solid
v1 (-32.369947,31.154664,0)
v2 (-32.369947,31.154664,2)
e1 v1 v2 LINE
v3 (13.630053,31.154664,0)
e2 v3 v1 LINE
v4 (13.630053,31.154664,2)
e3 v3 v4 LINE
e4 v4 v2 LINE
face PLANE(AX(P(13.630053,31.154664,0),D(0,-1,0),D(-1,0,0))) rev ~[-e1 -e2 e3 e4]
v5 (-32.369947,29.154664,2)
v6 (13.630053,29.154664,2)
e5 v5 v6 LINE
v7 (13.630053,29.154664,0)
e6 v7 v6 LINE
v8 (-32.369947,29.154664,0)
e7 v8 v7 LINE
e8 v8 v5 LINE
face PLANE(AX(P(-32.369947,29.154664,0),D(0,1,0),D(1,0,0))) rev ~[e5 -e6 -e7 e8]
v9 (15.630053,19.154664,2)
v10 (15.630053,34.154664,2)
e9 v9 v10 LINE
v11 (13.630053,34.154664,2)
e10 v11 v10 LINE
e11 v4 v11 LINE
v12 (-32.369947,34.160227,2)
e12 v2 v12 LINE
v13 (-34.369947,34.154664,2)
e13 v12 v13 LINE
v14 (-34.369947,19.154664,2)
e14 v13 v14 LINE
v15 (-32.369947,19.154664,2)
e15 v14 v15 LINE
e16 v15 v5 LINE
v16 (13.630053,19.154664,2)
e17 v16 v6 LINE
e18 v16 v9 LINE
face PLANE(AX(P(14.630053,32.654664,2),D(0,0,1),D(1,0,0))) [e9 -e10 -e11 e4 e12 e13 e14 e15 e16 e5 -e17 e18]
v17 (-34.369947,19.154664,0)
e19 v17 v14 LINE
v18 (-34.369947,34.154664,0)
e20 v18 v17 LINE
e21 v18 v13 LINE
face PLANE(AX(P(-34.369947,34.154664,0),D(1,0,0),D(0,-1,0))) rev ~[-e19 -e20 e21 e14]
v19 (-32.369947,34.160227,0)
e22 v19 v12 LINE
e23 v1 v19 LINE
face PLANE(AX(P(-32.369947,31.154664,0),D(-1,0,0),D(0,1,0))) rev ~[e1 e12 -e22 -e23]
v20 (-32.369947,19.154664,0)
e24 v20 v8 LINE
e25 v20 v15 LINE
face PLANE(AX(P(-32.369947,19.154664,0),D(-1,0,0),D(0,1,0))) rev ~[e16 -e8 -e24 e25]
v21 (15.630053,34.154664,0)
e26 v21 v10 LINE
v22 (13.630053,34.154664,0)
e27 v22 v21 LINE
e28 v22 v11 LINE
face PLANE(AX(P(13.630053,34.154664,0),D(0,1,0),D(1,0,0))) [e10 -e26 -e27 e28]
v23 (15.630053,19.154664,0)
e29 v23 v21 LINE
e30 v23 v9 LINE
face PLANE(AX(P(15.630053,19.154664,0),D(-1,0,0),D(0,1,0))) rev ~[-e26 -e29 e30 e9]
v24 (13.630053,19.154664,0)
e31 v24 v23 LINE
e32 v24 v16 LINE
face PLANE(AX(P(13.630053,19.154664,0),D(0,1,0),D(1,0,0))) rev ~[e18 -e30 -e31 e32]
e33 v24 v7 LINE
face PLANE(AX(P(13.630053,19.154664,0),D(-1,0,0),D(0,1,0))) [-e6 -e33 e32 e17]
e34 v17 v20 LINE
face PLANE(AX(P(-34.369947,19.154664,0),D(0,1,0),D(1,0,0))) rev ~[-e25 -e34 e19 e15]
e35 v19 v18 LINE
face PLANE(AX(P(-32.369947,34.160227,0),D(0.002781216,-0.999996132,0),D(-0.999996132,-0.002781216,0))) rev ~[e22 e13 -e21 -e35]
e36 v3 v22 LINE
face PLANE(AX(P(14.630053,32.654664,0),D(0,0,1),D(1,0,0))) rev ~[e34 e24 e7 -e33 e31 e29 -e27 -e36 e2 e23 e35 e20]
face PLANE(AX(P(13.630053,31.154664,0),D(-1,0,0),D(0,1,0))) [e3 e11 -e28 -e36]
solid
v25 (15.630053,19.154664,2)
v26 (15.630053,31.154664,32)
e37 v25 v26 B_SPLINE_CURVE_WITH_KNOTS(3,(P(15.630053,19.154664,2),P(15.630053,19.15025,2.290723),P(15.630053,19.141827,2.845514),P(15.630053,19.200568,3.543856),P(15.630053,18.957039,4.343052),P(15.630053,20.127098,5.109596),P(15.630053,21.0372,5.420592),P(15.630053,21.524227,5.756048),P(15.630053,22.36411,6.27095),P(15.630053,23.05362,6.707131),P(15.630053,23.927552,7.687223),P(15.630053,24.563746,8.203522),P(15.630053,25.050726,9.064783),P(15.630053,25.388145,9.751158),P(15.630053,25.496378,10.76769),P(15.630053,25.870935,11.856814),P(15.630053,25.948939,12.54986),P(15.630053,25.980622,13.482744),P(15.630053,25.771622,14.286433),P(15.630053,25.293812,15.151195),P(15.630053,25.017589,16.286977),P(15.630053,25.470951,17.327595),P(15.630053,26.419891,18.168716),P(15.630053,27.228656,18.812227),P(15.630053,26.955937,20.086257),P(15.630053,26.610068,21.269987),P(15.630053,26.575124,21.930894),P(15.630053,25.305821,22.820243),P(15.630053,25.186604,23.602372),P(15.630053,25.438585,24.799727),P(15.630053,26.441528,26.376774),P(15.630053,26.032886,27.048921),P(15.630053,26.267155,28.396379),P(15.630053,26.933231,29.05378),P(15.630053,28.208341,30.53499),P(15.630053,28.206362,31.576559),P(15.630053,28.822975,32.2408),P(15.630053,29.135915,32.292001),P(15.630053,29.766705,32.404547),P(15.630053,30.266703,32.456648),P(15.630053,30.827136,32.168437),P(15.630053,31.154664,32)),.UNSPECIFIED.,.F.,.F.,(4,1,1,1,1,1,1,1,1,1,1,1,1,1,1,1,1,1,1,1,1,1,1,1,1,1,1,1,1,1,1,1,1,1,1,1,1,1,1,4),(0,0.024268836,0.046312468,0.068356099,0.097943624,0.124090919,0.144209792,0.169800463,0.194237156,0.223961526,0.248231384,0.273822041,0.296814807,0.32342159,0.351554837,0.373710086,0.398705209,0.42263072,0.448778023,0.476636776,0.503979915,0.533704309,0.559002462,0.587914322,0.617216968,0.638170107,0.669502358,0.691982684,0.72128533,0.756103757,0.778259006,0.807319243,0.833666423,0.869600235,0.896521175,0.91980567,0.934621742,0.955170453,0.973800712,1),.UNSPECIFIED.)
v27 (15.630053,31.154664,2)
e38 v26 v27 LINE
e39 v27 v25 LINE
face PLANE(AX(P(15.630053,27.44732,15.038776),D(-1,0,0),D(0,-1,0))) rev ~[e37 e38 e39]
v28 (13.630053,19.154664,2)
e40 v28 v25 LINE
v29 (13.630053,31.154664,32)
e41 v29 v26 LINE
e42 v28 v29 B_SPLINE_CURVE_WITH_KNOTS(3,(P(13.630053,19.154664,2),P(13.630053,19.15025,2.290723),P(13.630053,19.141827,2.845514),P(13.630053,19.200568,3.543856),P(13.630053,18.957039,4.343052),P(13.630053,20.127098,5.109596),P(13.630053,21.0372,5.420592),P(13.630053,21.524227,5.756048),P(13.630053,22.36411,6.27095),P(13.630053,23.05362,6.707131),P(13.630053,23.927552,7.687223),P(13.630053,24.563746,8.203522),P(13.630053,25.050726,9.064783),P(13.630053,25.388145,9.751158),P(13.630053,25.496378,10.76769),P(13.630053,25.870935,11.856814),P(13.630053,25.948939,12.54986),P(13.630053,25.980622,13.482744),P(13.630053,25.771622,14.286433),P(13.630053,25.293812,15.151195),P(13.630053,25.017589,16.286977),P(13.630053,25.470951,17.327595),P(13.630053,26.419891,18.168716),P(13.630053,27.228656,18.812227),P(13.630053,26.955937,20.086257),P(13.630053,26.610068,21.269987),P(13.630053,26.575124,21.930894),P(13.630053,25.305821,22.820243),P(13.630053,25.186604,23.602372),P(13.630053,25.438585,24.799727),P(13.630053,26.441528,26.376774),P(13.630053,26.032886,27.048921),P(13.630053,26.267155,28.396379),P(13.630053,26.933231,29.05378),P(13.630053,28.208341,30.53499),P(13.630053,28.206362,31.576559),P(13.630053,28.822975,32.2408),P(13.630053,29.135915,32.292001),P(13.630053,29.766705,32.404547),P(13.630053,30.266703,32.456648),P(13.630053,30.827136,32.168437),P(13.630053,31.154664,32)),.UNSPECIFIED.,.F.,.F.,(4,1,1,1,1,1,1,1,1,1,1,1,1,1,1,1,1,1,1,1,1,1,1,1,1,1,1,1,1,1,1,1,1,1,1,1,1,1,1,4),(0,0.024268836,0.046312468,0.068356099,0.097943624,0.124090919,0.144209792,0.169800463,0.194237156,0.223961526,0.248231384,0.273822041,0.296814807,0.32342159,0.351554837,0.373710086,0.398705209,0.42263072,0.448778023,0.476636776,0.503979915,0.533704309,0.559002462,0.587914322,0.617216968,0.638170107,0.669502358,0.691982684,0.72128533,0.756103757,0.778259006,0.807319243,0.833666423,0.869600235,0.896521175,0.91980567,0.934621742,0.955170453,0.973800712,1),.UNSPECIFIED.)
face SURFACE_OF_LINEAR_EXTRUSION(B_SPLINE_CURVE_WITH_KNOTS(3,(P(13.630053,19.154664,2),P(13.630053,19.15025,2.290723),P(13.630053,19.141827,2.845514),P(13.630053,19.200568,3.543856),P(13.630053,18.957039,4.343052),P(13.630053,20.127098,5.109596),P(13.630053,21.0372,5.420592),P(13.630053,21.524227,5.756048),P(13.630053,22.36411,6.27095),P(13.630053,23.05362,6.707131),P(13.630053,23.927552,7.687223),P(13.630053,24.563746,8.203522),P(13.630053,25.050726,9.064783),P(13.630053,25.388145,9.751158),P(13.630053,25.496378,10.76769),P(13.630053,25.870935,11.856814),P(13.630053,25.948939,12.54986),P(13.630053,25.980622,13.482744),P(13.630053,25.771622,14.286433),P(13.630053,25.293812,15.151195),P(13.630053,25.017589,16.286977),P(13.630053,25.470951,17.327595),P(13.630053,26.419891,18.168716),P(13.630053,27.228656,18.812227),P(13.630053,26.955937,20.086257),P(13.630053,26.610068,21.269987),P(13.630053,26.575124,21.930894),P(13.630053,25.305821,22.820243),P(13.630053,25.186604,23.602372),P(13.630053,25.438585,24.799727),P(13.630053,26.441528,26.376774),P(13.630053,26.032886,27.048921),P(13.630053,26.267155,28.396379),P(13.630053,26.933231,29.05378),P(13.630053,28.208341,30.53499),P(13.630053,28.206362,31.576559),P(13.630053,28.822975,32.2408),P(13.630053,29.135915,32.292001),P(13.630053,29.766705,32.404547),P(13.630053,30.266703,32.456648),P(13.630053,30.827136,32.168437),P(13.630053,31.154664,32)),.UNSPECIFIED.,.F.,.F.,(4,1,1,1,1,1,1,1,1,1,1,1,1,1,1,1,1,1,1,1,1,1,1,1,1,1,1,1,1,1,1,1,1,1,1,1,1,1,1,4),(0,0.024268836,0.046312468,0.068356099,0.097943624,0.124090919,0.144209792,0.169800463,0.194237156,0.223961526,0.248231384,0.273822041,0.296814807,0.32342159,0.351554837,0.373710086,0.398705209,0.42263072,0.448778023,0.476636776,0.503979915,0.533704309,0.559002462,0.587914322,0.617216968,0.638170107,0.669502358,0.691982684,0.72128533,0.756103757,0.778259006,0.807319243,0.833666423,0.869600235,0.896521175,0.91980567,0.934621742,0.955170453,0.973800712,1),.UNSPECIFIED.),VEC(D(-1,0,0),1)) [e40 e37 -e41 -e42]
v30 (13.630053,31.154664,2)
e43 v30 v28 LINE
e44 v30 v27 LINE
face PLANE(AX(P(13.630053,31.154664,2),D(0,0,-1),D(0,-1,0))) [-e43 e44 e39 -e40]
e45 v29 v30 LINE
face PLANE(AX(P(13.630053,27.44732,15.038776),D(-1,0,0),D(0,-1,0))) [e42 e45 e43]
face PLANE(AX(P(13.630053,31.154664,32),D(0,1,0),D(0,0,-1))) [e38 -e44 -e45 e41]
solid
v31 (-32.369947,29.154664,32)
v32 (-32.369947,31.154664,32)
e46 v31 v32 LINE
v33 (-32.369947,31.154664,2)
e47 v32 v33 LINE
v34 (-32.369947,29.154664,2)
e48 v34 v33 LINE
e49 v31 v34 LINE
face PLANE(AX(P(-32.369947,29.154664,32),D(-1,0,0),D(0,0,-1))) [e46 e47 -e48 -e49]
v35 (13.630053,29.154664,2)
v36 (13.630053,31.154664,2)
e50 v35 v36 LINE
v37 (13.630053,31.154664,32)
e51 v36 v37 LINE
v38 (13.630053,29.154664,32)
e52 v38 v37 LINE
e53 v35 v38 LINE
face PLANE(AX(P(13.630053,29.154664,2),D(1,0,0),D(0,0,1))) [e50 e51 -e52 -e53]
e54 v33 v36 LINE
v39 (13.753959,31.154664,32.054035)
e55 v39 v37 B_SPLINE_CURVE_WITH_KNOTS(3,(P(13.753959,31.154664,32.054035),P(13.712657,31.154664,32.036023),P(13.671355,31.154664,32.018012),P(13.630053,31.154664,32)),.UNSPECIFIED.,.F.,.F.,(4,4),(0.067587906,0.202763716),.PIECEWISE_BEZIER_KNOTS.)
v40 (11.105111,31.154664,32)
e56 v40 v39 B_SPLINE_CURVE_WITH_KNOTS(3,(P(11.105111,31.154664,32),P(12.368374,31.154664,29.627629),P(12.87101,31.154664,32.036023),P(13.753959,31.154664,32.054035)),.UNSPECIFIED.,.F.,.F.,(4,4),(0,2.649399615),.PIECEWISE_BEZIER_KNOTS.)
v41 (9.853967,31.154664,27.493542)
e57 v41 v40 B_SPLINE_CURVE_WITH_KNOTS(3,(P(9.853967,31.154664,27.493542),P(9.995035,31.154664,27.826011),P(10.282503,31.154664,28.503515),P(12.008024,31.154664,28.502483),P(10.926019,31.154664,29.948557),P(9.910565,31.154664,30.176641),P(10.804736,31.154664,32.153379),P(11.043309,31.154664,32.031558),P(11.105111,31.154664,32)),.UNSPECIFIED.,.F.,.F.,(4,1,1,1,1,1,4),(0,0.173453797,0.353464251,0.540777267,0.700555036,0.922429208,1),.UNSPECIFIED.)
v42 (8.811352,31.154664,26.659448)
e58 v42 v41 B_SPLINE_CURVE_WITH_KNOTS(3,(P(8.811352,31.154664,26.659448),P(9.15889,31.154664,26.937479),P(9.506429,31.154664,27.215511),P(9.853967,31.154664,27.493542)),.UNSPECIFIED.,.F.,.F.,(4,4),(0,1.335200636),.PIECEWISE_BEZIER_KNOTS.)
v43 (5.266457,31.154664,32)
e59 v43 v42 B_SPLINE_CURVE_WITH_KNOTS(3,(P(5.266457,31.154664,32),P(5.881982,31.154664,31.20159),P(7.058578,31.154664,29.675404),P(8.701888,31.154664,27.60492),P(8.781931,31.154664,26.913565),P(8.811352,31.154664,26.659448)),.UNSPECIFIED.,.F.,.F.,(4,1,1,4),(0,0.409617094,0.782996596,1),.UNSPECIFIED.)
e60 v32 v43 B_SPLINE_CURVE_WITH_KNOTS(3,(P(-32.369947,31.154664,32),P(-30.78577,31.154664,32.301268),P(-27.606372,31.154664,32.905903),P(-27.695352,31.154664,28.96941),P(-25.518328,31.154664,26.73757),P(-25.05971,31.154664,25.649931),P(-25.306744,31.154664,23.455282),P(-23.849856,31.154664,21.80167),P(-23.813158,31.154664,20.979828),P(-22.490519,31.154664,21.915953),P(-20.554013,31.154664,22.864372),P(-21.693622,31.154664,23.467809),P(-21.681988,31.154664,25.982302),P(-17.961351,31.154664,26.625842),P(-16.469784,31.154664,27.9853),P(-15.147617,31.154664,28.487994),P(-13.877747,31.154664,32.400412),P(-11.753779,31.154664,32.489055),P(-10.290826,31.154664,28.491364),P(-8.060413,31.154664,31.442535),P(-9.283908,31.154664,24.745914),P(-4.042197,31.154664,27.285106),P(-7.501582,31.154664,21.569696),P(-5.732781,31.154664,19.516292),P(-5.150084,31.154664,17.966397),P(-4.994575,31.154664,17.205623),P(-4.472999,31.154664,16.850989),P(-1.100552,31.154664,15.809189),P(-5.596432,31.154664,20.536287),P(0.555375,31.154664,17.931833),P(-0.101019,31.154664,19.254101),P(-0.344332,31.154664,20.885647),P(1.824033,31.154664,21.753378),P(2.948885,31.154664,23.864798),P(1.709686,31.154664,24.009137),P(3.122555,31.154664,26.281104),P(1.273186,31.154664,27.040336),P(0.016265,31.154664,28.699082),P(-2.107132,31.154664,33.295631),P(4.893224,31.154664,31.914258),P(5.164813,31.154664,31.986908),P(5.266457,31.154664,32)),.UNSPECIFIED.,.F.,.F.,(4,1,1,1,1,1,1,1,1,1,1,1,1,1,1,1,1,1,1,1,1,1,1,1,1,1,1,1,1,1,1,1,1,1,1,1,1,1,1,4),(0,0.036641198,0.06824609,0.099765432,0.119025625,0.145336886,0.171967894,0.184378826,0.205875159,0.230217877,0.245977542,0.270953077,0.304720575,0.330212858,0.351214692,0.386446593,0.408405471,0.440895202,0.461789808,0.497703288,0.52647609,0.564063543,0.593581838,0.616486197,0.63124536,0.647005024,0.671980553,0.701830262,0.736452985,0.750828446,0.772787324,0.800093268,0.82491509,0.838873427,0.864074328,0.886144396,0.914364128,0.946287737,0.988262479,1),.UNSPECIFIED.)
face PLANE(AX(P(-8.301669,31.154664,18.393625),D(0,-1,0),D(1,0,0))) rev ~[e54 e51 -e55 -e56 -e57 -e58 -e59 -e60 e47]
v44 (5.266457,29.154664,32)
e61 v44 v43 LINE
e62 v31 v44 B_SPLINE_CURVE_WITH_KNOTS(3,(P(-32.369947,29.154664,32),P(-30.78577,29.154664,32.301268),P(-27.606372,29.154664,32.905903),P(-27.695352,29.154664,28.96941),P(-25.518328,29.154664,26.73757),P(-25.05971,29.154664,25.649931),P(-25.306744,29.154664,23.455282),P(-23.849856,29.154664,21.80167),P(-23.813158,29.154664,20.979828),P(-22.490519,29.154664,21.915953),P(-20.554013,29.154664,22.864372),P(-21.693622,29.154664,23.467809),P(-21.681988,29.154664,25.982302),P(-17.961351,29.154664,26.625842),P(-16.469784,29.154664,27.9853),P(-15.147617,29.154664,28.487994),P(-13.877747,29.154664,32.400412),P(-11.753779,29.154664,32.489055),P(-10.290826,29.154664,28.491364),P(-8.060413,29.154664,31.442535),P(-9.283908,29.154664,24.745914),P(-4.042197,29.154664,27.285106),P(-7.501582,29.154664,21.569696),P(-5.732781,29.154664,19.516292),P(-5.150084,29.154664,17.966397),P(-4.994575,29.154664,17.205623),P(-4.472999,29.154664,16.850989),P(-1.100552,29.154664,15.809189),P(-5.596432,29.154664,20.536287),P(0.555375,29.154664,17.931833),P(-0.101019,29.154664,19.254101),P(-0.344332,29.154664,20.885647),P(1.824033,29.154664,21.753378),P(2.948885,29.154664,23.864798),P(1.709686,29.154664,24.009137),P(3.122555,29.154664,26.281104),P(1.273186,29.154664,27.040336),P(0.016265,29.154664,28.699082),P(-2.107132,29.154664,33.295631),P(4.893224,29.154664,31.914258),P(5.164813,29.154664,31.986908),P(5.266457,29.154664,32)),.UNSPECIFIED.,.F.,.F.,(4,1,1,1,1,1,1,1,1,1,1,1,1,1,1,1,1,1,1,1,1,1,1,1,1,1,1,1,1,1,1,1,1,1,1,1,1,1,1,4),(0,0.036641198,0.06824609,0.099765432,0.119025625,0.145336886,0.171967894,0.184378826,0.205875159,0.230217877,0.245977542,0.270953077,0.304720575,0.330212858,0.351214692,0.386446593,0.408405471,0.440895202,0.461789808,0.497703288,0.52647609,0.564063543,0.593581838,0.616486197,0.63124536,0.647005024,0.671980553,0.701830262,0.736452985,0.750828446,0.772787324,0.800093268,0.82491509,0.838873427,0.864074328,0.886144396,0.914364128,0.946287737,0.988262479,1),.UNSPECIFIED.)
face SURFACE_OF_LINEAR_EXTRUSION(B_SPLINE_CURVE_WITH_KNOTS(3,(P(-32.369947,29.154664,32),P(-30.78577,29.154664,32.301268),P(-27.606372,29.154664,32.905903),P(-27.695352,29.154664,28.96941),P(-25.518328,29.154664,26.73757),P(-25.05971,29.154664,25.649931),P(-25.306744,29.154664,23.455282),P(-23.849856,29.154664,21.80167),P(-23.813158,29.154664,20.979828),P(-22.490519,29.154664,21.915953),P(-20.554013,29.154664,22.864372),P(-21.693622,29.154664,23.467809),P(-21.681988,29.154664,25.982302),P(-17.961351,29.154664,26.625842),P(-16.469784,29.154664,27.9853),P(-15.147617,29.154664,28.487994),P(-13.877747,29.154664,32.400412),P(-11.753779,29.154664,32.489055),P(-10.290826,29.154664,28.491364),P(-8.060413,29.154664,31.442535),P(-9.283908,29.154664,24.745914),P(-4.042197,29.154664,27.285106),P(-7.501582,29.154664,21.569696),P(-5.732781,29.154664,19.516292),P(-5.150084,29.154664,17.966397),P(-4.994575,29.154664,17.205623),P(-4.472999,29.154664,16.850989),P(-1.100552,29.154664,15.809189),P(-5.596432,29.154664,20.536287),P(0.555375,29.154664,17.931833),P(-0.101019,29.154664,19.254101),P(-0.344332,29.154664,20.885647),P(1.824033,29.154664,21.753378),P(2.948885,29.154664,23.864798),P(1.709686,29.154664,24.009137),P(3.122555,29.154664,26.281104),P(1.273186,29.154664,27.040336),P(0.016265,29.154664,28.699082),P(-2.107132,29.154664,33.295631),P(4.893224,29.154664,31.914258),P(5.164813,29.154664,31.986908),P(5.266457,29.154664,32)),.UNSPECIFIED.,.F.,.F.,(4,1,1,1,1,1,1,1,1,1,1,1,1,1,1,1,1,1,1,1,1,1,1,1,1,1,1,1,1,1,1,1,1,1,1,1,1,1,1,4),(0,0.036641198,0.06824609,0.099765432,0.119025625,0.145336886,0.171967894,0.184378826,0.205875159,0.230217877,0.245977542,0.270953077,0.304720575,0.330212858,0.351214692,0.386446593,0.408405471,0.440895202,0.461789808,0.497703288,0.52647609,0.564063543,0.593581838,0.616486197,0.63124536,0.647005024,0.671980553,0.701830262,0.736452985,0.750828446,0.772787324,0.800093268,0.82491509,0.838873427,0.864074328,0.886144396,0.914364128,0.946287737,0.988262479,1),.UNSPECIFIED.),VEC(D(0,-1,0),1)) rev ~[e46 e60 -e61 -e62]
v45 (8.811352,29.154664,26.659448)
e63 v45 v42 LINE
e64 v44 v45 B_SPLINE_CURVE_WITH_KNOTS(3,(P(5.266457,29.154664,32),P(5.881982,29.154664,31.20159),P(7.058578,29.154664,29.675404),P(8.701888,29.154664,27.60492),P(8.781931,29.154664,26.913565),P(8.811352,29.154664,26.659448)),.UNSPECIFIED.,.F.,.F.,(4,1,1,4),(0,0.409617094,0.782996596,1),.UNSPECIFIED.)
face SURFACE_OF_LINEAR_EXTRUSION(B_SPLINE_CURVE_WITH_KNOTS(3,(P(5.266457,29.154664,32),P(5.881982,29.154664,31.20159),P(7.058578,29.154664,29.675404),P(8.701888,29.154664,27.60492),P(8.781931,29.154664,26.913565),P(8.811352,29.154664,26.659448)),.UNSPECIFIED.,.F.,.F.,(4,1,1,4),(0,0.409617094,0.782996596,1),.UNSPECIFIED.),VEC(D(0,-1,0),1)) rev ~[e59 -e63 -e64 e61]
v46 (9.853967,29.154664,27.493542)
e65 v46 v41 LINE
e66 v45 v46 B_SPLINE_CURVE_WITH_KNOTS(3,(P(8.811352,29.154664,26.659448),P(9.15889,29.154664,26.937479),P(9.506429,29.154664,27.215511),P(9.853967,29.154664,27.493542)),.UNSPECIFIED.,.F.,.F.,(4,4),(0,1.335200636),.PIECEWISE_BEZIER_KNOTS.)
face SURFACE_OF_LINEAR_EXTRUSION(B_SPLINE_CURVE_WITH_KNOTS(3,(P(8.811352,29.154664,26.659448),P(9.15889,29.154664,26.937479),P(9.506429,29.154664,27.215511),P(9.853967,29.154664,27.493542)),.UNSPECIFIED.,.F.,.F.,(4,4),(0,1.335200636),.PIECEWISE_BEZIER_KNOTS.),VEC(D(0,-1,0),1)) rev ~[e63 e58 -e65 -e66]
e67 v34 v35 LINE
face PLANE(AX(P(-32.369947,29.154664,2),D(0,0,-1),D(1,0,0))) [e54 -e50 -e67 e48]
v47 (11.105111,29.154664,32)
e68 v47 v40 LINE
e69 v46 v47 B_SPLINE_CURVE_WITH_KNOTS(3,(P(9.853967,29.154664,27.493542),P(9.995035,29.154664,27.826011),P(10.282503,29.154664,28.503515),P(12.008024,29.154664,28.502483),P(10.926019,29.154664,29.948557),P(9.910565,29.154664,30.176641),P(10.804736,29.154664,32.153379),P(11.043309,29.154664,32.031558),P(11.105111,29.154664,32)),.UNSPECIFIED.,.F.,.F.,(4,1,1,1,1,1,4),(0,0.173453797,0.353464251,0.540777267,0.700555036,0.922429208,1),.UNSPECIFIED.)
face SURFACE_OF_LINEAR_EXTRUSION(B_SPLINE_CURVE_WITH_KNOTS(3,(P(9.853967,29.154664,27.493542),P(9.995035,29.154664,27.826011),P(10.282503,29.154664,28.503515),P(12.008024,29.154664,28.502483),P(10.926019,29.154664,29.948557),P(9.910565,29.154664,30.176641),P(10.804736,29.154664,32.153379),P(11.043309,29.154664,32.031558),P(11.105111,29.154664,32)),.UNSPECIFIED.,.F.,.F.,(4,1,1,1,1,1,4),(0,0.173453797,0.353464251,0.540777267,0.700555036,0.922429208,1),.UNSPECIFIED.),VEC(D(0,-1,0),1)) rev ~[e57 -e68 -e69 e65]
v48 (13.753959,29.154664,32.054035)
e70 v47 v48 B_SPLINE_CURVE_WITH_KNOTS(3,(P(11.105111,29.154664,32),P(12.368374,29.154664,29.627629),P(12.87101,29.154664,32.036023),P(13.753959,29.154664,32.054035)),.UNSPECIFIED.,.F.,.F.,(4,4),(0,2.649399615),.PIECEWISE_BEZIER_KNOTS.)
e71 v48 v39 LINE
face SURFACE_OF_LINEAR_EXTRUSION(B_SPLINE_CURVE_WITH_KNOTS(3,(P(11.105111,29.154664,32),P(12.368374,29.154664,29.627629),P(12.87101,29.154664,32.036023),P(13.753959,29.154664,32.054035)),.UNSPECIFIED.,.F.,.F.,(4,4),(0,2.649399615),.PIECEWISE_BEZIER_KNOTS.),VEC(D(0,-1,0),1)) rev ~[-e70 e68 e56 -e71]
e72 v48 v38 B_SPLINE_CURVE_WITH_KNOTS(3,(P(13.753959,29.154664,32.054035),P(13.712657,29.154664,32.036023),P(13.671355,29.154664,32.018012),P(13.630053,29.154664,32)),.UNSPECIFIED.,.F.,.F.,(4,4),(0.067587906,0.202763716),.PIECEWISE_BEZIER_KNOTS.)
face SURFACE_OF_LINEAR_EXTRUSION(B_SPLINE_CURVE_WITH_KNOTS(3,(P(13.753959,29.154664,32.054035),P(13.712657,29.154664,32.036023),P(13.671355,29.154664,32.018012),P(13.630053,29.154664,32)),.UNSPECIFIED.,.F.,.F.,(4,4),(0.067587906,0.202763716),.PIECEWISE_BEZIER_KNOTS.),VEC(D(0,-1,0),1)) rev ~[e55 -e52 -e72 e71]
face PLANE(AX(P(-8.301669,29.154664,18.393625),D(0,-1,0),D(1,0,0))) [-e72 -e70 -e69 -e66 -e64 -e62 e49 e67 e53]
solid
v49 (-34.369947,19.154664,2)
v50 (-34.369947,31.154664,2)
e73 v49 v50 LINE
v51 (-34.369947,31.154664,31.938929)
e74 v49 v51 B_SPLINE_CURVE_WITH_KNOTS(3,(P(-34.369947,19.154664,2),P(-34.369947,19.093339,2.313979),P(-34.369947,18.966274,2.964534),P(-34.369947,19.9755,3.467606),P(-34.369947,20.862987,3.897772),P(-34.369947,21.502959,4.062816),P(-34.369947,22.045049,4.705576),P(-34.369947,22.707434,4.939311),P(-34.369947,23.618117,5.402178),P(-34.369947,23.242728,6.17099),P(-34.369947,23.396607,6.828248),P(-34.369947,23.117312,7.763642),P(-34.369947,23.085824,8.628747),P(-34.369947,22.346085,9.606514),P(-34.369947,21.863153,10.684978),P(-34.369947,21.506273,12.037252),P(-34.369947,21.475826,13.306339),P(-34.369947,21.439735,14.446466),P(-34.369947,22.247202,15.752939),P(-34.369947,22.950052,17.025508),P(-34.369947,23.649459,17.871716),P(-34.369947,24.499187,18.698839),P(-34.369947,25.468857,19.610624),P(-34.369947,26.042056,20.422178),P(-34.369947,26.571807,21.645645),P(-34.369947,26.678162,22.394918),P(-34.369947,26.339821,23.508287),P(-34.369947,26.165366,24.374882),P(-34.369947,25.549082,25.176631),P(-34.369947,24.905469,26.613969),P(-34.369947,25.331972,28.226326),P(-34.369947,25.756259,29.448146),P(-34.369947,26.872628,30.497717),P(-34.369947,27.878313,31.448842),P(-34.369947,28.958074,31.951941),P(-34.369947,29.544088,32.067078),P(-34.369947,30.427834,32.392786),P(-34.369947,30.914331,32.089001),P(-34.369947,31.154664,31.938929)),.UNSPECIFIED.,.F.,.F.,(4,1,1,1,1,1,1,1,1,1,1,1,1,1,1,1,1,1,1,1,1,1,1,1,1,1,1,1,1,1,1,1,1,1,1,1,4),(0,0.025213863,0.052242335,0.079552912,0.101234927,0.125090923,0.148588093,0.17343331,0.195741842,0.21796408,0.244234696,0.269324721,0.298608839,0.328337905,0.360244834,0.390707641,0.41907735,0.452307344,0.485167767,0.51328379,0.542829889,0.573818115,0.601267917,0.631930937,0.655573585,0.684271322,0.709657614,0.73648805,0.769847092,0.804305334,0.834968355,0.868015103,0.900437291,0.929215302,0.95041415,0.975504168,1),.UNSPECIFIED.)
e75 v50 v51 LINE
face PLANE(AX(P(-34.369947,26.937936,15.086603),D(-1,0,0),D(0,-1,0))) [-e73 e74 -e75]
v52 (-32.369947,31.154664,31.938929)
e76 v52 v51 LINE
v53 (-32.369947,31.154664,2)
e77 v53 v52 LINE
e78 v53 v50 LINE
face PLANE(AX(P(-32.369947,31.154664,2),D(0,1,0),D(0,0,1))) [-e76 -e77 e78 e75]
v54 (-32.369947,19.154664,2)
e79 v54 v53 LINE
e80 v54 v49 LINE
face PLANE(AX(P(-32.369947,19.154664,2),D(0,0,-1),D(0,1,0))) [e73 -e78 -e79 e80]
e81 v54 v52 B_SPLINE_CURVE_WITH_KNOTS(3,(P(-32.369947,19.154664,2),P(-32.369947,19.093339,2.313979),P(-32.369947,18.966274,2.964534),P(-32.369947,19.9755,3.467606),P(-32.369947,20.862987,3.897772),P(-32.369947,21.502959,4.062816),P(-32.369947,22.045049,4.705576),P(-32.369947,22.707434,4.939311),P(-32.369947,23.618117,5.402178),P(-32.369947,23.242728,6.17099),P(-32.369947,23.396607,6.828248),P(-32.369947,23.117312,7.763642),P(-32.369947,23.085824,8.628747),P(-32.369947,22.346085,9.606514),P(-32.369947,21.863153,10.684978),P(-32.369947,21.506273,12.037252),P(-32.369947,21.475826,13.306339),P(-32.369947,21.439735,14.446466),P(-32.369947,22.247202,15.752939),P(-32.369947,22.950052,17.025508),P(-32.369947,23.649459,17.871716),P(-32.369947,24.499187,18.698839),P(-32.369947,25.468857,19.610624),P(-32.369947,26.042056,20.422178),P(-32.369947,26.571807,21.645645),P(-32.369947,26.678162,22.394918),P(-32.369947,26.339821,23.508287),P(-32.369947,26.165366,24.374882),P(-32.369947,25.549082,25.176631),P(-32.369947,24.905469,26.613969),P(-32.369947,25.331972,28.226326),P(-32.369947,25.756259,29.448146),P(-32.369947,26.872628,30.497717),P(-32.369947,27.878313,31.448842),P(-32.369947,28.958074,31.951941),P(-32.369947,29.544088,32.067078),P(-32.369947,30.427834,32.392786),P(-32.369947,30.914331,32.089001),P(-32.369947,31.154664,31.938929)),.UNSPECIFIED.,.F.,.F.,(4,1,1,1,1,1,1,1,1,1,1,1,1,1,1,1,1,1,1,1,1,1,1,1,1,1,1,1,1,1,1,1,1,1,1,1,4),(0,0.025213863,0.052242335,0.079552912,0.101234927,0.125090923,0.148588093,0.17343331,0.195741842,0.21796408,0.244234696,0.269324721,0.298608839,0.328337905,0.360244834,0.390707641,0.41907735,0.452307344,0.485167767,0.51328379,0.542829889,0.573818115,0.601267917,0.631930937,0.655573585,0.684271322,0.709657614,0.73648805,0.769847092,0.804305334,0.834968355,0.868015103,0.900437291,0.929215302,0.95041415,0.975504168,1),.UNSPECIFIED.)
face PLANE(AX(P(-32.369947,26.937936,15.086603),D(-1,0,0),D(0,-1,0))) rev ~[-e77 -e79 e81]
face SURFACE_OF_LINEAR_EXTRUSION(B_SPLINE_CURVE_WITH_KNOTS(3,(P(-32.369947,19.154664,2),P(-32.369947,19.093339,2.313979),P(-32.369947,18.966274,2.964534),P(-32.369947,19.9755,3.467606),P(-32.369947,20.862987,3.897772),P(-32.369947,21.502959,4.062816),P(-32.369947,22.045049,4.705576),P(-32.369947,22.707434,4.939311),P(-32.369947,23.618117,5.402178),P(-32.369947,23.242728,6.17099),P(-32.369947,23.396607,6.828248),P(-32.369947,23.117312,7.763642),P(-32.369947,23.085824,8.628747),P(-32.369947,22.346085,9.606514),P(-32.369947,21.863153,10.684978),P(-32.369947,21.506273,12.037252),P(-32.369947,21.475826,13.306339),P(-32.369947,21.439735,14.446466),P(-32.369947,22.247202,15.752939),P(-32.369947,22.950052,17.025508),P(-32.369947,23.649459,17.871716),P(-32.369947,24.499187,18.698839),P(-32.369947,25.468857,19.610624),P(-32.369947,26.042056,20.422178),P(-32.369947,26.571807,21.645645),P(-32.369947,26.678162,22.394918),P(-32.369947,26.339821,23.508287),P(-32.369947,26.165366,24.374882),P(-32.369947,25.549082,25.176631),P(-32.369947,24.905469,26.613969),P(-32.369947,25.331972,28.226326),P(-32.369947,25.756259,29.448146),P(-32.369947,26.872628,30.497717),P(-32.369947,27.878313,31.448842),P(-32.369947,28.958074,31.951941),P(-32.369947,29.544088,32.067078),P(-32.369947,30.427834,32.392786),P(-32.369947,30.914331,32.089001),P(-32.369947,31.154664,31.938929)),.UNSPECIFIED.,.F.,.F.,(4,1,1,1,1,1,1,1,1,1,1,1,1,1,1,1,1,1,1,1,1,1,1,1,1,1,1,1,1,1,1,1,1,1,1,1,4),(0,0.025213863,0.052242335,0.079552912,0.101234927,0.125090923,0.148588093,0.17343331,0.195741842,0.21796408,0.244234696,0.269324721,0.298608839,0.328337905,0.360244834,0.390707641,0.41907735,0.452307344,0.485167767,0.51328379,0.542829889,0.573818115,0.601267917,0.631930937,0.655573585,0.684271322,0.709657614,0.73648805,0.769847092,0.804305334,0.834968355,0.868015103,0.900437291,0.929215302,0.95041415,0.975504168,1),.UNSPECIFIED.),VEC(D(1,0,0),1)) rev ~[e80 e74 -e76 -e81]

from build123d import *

# Parameters (mm, degrees)
F0_W     = 2
F0_H     = 3
F0_W_2   = 46
F0_H_2   = 2
F0_H_3   = 10
F1_DEPTH = 2
F3_DEPTH = 2
F5_DEPTH = 2
F7_DEPTH = 2


with BuildPart() as f1:
    # F0 (on Top) → F1 (new body)
    with BuildSketch(Plane.XY):
        with Locations((14.6300533563, 32.654664129)):
            Rectangle(F0_W, F0_H)
        with Locations((-9.3699466437, 30.154664129)):
            Rectangle(F0_W_2, F0_H_2)
        with Locations((14.6300533563, 30.154664129)):
            Rectangle(F0_W, F0_H_2)
        with Locations((-33.3699466437, 30.154664129)):
            Rectangle(F0_W, F0_H_2)
        Polygon((-34.3699466437, 31.154664129), (-32.3699466437, 31.154664129), (-32.3699466437, 31.1602265835), (-32.3699466437, 34.1602265835), (-34.3699466437, 34.154664129), align=None)
        with Locations((14.6300533563, 24.154664129)):
            Rectangle(F0_W, F0_H_3)
        with Locations((-33.3699466437, 24.154664129)):
            Rectangle(F0_W, F0_H_3)
    extrude(amount=F1_DEPTH)


with BuildPart() as f3:
    # F2 (on face) → F3 (new body)
    with BuildSketch(Plane.XZ.offset(-29.154664129)):
        with BuildLine():
            Line((-32.3699466437, 32), (-32.3699466437, 2))
            Line((-32.3699466437, 2), (13.6300533563, 2))
            Line((13.6300533563, 2), (13.6300533563, 32))
            add(Edge.make_bspline(
                [(13.7539593975, 32.0540351073), (13.7126573837, 32.0360234049), (13.67135537, 32.0180117024), (13.6300533563, 32)],
                knots=[0.0675879055, 0.0675879055, 0.0675879055, 0.0675879055, 0.2027637164, 0.2027637164, 0.2027637164, 0.2027637164], degree=3))
            add(Edge.make_bspline(
                [(11.1051108688, 32), (12.3683735728, 29.6276286244), (12.8710098879, 32.0360234049), (13.7539593975, 32.0540351073)],
                knots=[0, 0, 0, 0, 2.6493996151, 2.6493996151, 2.6493996151, 2.6493996151], degree=3))
            add(Edge.make_bspline(
                [(9.8539674655, 27.4935420603), (9.9950352133, 27.8260106211), (10.2825031537, 28.5035152523), (12.0080236168, 28.5024828432), (10.9260187917, 29.9485572376), (9.9105646742, 30.1766407122), (10.8047361852, 32.1533787201), (11.0433089366, 32.0315575905), (11.1051108688, 32)],
                knots=[0, 0, 0, 0, 0.173453797, 0.3534642508, 0.5407772667, 0.700555036, 0.9224292077, 1, 1, 1, 1], degree=3))
            add(Edge.make_bspline(
                [(8.8113518432, 26.6594476998), (9.1588903839, 26.9374791533), (9.5064289247, 27.2155106068), (9.8539674655, 27.4935420603)],
                knots=[0, 0, 0, 0, 1.3352006359, 1.3352006359, 1.3352006359, 1.3352006359], degree=3))
            add(Edge.make_bspline(
                [(5.2664573304, 32), (5.8819819393, 31.2015904749), (7.0585775463, 29.6754043139), (8.7018883483, 27.6049199488), (8.7819310434, 26.9135648353), (8.8113518432, 26.6594476998)],
                knots=[0, 0, 0, 0, 0.4096170942, 0.7829965962, 1, 1, 1, 1], degree=3))
            add(Edge.make_bspline(
                [(-32.3699466437, 32), (-30.7857702558, 32.3012675249), (-27.6063717124, 32.9059031804), (-27.6953518709, 28.9694099124), (-25.5183276093, 26.7375704025), (-25.0597096391, 25.6499307274), (-25.3067442701, 23.4552823708), (-23.8498559043, 21.8016698153), (-23.8131584675, 20.9798278679), (-22.4905187382, 21.9159530492), (-20.5540127118, 22.86437204), (-21.6936216233, 23.4678094757), (-21.6819884934, 25.9823024419), (-17.9613509218, 26.6258421597), (-16.4697838899, 27.985299651), (-15.1476173323, 28.4879940768), (-13.8777468963, 32.4004120722), (-11.7537789199, 32.4890551084), (-10.2908255738, 28.491363781), (-8.0604127867, 31.4425354815), (-9.283908454, 24.7459143052), (-4.0421974577, 27.2851059344), (-7.5015816776, 21.5696964807), (-5.7327807113, 19.5162921715), (-5.1500837161, 17.9663971602), (-4.9945750982, 17.2056226204), (-4.4729991878, 16.8509889919), (-1.1005515825, 15.8091894846), (-5.5964316503, 20.5362873398), (0.5553748499, 17.9318329849), (-0.1010193311, 19.2541010328), (-0.3443320993, 20.8856468811), (1.8240331693, 21.753378251), (2.9488845568, 23.8647975816), (1.7096861423, 24.0091370266), (3.1225546959, 26.2811035247), (1.2731861337, 27.0403360649), (0.0162647592, 28.6990822909), (-2.1071318452, 33.2956312734), (4.8932244922, 31.9142579298), (5.1648132021, 31.9869077789), (5.2664573304, 32)],
                knots=[0, 0, 0, 0, 0.036641198, 0.0682460897, 0.0997654323, 0.1190256251, 0.1453368863, 0.1719678937, 0.1843788261, 0.2058751594, 0.230217877, 0.2459775415, 0.2709530769, 0.3047205745, 0.330212858, 0.3512146916, 0.3864465928, 0.408405471, 0.4408952016, 0.4617898081, 0.4977032876, 0.5264760896, 0.5640635425, 0.5935818377, 0.6164861973, 0.6312453597, 0.6470050242, 0.6719805535, 0.7018302616, 0.7364529854, 0.7508284456, 0.7727873239, 0.8000932682, 0.8249150896, 0.8388734268, 0.8640743281, 0.8861443959, 0.914364128, 0.9462877369, 0.9882624793, 1, 1, 1, 1], degree=3))
        make_face()
    extrude(amount=-F3_DEPTH)


with BuildPart() as f5:
    # F4 (on face) → F5 (new body)
    with BuildSketch(Plane.YZ.offset(-32.3699466437)):
        with BuildLine():
            add(Edge.make_bspline(
                [(19.154664129, 2), (19.0933385144, 2.3139790257), (18.9662737617, 2.9645337328), (19.975499597, 3.4676055379), (20.8629867742, 3.8977717701), (21.5029587541, 4.0628157229), (22.0450487865, 4.7055756638), (22.7074335744, 4.9393107544), (23.6181172044, 5.4021777774), (23.2427281431, 6.1709899376), (23.3966074603, 6.8282483488), (23.1173120357, 7.7636422246), (23.0858243156, 8.628747023), (22.3460850008, 9.6065142247), (21.8631526048, 10.6849780819), (21.5062728988, 12.0372523365), (21.475826349, 13.3063387242), (21.439734642, 14.4464664508), (22.2472021653, 15.7529392468), (22.9500524, 17.0255084773), (23.6494592142, 17.8717161349), (24.4991866567, 18.6988392627), (25.468857374, 19.6106237837), (26.0420564681, 20.4221783211), (26.5718067918, 21.6456454833), (26.6781618184, 22.3949182138), (26.3398207507, 23.5082867772), (26.16536613, 24.3748821447), (25.549081959, 25.176631285), (24.9054692005, 26.6139692371), (25.3319716032, 28.2263257982), (25.7562593201, 29.4481462882), (26.8726282908, 30.4977165849), (27.878313359, 31.4488422063), (28.9580740205, 31.9519409895), (29.5440883459, 32.0670779579), (30.427834372, 32.3927856065), (30.9143307713, 32.0890011937), (31.154664129, 31.9389291108)],
                knots=[0, 0, 0, 0, 0.0252138631, 0.0522423347, 0.079552912, 0.1012349273, 0.125090923, 0.1485880933, 0.1734333102, 0.1957418418, 0.2179640796, 0.2442346956, 0.2693247209, 0.2986088389, 0.3283379049, 0.3602448345, 0.3907076413, 0.4190773501, 0.4523073441, 0.4851677667, 0.5132837905, 0.5428298894, 0.5738181148, 0.6012679167, 0.6319309372, 0.6555735849, 0.6842713217, 0.7096576137, 0.7364880496, 0.769847092, 0.8043053341, 0.8349683546, 0.8680151028, 0.9004372915, 0.9292153025, 0.9504141499, 0.9755041684, 1, 1, 1, 1], degree=3))
            Line((19.154664129, 2), (31.154664129, 2))
            Line((31.154664129, 2), (31.154664129, 31.9389291108))
        make_face()
    extrude(amount=-F5_DEPTH)


with BuildPart() as f7:
    # F6 (on face) → F7 (new body)
    with BuildSketch(Plane(origin=(13.6300533563, 0, 0), x_dir=(0, -1, 0), z_dir=(-1, 0, 0))):
        with BuildLine():
            Line((-31.154664129, 2), (-19.154664129, 2))
            add(Edge.make_bspline(
                [(-19.154664129, 2), (-19.1502503448, 2.2907234716), (-19.1418274752, 2.8455140429), (-19.2005675999, 3.5438559864), (-18.957038705, 4.3430516246), (-20.12709836, 5.109595789), (-21.0371999465, 5.4205918506), (-21.5242265501, 5.7560480704), (-22.3641102264, 6.2709502898), (-23.0536202606, 6.7071310388), (-23.9275516734, 7.6872233576), (-24.5637462648, 8.2035222053), (-25.0507261122, 9.0647827525), (-25.3881451051, 9.7511581033), (-25.4963783046, 10.7676899935), (-25.8709348642, 11.8568143519), (-25.9489385284, 12.5498604587), (-25.9806219538, 13.4827436874), (-25.7716219613, 14.2864327153), (-25.293812229, 15.1511950163), (-25.0175893746, 16.2869765293), (-25.470950506, 17.3275945568), (-26.4198913146, 18.1687156609), (-27.2286560213, 18.8122271497), (-26.9559367945, 20.0862565759), (-26.6100681431, 21.2699874607), (-26.5751235631, 21.9308935243), (-25.3058214476, 22.820242691), (-25.1866035678, 23.602371728), (-25.4385850971, 24.799727113), (-26.4415275196, 26.3767737526), (-26.0328862878, 27.048921241), (-26.2671552151, 28.3963793676), (-26.933231028, 29.0537803159), (-28.2083406604, 30.5349898394), (-28.2063618854, 31.5765594703), (-28.8229750892, 32.2407995737), (-29.1359145727, 32.2920010593), (-29.7667054865, 32.4045465687), (-30.2667030374, 32.4566479765), (-30.8271359047, 32.1684365479), (-31.154664129, 32)],
                knots=[0, 0, 0, 0, 0.0242688359, 0.0463124675, 0.0683560991, 0.097943624, 0.1240909186, 0.144209792, 0.1698004628, 0.1942371555, 0.2239615262, 0.2482313843, 0.273822041, 0.2968148067, 0.3234215902, 0.351554837, 0.373710086, 0.3987052093, 0.42263072, 0.4487780234, 0.4766367763, 0.5039799149, 0.5337043087, 0.5590024617, 0.5879143217, 0.6172169683, 0.6381701072, 0.6695023581, 0.6919826839, 0.7212853304, 0.7561037572, 0.7782590063, 0.8073192431, 0.8336664229, 0.8696002351, 0.8965211748, 0.9198056701, 0.9346217423, 0.9551704534, 0.9738007125, 1, 1, 1, 1], degree=3))
            Line((-31.154664129, 32), (-31.154664129, 2))
        make_face()
    extrude(amount=-F7_DEPTH)


solid = Compound([f1.part, f3.part, f5.part, f7.part])
